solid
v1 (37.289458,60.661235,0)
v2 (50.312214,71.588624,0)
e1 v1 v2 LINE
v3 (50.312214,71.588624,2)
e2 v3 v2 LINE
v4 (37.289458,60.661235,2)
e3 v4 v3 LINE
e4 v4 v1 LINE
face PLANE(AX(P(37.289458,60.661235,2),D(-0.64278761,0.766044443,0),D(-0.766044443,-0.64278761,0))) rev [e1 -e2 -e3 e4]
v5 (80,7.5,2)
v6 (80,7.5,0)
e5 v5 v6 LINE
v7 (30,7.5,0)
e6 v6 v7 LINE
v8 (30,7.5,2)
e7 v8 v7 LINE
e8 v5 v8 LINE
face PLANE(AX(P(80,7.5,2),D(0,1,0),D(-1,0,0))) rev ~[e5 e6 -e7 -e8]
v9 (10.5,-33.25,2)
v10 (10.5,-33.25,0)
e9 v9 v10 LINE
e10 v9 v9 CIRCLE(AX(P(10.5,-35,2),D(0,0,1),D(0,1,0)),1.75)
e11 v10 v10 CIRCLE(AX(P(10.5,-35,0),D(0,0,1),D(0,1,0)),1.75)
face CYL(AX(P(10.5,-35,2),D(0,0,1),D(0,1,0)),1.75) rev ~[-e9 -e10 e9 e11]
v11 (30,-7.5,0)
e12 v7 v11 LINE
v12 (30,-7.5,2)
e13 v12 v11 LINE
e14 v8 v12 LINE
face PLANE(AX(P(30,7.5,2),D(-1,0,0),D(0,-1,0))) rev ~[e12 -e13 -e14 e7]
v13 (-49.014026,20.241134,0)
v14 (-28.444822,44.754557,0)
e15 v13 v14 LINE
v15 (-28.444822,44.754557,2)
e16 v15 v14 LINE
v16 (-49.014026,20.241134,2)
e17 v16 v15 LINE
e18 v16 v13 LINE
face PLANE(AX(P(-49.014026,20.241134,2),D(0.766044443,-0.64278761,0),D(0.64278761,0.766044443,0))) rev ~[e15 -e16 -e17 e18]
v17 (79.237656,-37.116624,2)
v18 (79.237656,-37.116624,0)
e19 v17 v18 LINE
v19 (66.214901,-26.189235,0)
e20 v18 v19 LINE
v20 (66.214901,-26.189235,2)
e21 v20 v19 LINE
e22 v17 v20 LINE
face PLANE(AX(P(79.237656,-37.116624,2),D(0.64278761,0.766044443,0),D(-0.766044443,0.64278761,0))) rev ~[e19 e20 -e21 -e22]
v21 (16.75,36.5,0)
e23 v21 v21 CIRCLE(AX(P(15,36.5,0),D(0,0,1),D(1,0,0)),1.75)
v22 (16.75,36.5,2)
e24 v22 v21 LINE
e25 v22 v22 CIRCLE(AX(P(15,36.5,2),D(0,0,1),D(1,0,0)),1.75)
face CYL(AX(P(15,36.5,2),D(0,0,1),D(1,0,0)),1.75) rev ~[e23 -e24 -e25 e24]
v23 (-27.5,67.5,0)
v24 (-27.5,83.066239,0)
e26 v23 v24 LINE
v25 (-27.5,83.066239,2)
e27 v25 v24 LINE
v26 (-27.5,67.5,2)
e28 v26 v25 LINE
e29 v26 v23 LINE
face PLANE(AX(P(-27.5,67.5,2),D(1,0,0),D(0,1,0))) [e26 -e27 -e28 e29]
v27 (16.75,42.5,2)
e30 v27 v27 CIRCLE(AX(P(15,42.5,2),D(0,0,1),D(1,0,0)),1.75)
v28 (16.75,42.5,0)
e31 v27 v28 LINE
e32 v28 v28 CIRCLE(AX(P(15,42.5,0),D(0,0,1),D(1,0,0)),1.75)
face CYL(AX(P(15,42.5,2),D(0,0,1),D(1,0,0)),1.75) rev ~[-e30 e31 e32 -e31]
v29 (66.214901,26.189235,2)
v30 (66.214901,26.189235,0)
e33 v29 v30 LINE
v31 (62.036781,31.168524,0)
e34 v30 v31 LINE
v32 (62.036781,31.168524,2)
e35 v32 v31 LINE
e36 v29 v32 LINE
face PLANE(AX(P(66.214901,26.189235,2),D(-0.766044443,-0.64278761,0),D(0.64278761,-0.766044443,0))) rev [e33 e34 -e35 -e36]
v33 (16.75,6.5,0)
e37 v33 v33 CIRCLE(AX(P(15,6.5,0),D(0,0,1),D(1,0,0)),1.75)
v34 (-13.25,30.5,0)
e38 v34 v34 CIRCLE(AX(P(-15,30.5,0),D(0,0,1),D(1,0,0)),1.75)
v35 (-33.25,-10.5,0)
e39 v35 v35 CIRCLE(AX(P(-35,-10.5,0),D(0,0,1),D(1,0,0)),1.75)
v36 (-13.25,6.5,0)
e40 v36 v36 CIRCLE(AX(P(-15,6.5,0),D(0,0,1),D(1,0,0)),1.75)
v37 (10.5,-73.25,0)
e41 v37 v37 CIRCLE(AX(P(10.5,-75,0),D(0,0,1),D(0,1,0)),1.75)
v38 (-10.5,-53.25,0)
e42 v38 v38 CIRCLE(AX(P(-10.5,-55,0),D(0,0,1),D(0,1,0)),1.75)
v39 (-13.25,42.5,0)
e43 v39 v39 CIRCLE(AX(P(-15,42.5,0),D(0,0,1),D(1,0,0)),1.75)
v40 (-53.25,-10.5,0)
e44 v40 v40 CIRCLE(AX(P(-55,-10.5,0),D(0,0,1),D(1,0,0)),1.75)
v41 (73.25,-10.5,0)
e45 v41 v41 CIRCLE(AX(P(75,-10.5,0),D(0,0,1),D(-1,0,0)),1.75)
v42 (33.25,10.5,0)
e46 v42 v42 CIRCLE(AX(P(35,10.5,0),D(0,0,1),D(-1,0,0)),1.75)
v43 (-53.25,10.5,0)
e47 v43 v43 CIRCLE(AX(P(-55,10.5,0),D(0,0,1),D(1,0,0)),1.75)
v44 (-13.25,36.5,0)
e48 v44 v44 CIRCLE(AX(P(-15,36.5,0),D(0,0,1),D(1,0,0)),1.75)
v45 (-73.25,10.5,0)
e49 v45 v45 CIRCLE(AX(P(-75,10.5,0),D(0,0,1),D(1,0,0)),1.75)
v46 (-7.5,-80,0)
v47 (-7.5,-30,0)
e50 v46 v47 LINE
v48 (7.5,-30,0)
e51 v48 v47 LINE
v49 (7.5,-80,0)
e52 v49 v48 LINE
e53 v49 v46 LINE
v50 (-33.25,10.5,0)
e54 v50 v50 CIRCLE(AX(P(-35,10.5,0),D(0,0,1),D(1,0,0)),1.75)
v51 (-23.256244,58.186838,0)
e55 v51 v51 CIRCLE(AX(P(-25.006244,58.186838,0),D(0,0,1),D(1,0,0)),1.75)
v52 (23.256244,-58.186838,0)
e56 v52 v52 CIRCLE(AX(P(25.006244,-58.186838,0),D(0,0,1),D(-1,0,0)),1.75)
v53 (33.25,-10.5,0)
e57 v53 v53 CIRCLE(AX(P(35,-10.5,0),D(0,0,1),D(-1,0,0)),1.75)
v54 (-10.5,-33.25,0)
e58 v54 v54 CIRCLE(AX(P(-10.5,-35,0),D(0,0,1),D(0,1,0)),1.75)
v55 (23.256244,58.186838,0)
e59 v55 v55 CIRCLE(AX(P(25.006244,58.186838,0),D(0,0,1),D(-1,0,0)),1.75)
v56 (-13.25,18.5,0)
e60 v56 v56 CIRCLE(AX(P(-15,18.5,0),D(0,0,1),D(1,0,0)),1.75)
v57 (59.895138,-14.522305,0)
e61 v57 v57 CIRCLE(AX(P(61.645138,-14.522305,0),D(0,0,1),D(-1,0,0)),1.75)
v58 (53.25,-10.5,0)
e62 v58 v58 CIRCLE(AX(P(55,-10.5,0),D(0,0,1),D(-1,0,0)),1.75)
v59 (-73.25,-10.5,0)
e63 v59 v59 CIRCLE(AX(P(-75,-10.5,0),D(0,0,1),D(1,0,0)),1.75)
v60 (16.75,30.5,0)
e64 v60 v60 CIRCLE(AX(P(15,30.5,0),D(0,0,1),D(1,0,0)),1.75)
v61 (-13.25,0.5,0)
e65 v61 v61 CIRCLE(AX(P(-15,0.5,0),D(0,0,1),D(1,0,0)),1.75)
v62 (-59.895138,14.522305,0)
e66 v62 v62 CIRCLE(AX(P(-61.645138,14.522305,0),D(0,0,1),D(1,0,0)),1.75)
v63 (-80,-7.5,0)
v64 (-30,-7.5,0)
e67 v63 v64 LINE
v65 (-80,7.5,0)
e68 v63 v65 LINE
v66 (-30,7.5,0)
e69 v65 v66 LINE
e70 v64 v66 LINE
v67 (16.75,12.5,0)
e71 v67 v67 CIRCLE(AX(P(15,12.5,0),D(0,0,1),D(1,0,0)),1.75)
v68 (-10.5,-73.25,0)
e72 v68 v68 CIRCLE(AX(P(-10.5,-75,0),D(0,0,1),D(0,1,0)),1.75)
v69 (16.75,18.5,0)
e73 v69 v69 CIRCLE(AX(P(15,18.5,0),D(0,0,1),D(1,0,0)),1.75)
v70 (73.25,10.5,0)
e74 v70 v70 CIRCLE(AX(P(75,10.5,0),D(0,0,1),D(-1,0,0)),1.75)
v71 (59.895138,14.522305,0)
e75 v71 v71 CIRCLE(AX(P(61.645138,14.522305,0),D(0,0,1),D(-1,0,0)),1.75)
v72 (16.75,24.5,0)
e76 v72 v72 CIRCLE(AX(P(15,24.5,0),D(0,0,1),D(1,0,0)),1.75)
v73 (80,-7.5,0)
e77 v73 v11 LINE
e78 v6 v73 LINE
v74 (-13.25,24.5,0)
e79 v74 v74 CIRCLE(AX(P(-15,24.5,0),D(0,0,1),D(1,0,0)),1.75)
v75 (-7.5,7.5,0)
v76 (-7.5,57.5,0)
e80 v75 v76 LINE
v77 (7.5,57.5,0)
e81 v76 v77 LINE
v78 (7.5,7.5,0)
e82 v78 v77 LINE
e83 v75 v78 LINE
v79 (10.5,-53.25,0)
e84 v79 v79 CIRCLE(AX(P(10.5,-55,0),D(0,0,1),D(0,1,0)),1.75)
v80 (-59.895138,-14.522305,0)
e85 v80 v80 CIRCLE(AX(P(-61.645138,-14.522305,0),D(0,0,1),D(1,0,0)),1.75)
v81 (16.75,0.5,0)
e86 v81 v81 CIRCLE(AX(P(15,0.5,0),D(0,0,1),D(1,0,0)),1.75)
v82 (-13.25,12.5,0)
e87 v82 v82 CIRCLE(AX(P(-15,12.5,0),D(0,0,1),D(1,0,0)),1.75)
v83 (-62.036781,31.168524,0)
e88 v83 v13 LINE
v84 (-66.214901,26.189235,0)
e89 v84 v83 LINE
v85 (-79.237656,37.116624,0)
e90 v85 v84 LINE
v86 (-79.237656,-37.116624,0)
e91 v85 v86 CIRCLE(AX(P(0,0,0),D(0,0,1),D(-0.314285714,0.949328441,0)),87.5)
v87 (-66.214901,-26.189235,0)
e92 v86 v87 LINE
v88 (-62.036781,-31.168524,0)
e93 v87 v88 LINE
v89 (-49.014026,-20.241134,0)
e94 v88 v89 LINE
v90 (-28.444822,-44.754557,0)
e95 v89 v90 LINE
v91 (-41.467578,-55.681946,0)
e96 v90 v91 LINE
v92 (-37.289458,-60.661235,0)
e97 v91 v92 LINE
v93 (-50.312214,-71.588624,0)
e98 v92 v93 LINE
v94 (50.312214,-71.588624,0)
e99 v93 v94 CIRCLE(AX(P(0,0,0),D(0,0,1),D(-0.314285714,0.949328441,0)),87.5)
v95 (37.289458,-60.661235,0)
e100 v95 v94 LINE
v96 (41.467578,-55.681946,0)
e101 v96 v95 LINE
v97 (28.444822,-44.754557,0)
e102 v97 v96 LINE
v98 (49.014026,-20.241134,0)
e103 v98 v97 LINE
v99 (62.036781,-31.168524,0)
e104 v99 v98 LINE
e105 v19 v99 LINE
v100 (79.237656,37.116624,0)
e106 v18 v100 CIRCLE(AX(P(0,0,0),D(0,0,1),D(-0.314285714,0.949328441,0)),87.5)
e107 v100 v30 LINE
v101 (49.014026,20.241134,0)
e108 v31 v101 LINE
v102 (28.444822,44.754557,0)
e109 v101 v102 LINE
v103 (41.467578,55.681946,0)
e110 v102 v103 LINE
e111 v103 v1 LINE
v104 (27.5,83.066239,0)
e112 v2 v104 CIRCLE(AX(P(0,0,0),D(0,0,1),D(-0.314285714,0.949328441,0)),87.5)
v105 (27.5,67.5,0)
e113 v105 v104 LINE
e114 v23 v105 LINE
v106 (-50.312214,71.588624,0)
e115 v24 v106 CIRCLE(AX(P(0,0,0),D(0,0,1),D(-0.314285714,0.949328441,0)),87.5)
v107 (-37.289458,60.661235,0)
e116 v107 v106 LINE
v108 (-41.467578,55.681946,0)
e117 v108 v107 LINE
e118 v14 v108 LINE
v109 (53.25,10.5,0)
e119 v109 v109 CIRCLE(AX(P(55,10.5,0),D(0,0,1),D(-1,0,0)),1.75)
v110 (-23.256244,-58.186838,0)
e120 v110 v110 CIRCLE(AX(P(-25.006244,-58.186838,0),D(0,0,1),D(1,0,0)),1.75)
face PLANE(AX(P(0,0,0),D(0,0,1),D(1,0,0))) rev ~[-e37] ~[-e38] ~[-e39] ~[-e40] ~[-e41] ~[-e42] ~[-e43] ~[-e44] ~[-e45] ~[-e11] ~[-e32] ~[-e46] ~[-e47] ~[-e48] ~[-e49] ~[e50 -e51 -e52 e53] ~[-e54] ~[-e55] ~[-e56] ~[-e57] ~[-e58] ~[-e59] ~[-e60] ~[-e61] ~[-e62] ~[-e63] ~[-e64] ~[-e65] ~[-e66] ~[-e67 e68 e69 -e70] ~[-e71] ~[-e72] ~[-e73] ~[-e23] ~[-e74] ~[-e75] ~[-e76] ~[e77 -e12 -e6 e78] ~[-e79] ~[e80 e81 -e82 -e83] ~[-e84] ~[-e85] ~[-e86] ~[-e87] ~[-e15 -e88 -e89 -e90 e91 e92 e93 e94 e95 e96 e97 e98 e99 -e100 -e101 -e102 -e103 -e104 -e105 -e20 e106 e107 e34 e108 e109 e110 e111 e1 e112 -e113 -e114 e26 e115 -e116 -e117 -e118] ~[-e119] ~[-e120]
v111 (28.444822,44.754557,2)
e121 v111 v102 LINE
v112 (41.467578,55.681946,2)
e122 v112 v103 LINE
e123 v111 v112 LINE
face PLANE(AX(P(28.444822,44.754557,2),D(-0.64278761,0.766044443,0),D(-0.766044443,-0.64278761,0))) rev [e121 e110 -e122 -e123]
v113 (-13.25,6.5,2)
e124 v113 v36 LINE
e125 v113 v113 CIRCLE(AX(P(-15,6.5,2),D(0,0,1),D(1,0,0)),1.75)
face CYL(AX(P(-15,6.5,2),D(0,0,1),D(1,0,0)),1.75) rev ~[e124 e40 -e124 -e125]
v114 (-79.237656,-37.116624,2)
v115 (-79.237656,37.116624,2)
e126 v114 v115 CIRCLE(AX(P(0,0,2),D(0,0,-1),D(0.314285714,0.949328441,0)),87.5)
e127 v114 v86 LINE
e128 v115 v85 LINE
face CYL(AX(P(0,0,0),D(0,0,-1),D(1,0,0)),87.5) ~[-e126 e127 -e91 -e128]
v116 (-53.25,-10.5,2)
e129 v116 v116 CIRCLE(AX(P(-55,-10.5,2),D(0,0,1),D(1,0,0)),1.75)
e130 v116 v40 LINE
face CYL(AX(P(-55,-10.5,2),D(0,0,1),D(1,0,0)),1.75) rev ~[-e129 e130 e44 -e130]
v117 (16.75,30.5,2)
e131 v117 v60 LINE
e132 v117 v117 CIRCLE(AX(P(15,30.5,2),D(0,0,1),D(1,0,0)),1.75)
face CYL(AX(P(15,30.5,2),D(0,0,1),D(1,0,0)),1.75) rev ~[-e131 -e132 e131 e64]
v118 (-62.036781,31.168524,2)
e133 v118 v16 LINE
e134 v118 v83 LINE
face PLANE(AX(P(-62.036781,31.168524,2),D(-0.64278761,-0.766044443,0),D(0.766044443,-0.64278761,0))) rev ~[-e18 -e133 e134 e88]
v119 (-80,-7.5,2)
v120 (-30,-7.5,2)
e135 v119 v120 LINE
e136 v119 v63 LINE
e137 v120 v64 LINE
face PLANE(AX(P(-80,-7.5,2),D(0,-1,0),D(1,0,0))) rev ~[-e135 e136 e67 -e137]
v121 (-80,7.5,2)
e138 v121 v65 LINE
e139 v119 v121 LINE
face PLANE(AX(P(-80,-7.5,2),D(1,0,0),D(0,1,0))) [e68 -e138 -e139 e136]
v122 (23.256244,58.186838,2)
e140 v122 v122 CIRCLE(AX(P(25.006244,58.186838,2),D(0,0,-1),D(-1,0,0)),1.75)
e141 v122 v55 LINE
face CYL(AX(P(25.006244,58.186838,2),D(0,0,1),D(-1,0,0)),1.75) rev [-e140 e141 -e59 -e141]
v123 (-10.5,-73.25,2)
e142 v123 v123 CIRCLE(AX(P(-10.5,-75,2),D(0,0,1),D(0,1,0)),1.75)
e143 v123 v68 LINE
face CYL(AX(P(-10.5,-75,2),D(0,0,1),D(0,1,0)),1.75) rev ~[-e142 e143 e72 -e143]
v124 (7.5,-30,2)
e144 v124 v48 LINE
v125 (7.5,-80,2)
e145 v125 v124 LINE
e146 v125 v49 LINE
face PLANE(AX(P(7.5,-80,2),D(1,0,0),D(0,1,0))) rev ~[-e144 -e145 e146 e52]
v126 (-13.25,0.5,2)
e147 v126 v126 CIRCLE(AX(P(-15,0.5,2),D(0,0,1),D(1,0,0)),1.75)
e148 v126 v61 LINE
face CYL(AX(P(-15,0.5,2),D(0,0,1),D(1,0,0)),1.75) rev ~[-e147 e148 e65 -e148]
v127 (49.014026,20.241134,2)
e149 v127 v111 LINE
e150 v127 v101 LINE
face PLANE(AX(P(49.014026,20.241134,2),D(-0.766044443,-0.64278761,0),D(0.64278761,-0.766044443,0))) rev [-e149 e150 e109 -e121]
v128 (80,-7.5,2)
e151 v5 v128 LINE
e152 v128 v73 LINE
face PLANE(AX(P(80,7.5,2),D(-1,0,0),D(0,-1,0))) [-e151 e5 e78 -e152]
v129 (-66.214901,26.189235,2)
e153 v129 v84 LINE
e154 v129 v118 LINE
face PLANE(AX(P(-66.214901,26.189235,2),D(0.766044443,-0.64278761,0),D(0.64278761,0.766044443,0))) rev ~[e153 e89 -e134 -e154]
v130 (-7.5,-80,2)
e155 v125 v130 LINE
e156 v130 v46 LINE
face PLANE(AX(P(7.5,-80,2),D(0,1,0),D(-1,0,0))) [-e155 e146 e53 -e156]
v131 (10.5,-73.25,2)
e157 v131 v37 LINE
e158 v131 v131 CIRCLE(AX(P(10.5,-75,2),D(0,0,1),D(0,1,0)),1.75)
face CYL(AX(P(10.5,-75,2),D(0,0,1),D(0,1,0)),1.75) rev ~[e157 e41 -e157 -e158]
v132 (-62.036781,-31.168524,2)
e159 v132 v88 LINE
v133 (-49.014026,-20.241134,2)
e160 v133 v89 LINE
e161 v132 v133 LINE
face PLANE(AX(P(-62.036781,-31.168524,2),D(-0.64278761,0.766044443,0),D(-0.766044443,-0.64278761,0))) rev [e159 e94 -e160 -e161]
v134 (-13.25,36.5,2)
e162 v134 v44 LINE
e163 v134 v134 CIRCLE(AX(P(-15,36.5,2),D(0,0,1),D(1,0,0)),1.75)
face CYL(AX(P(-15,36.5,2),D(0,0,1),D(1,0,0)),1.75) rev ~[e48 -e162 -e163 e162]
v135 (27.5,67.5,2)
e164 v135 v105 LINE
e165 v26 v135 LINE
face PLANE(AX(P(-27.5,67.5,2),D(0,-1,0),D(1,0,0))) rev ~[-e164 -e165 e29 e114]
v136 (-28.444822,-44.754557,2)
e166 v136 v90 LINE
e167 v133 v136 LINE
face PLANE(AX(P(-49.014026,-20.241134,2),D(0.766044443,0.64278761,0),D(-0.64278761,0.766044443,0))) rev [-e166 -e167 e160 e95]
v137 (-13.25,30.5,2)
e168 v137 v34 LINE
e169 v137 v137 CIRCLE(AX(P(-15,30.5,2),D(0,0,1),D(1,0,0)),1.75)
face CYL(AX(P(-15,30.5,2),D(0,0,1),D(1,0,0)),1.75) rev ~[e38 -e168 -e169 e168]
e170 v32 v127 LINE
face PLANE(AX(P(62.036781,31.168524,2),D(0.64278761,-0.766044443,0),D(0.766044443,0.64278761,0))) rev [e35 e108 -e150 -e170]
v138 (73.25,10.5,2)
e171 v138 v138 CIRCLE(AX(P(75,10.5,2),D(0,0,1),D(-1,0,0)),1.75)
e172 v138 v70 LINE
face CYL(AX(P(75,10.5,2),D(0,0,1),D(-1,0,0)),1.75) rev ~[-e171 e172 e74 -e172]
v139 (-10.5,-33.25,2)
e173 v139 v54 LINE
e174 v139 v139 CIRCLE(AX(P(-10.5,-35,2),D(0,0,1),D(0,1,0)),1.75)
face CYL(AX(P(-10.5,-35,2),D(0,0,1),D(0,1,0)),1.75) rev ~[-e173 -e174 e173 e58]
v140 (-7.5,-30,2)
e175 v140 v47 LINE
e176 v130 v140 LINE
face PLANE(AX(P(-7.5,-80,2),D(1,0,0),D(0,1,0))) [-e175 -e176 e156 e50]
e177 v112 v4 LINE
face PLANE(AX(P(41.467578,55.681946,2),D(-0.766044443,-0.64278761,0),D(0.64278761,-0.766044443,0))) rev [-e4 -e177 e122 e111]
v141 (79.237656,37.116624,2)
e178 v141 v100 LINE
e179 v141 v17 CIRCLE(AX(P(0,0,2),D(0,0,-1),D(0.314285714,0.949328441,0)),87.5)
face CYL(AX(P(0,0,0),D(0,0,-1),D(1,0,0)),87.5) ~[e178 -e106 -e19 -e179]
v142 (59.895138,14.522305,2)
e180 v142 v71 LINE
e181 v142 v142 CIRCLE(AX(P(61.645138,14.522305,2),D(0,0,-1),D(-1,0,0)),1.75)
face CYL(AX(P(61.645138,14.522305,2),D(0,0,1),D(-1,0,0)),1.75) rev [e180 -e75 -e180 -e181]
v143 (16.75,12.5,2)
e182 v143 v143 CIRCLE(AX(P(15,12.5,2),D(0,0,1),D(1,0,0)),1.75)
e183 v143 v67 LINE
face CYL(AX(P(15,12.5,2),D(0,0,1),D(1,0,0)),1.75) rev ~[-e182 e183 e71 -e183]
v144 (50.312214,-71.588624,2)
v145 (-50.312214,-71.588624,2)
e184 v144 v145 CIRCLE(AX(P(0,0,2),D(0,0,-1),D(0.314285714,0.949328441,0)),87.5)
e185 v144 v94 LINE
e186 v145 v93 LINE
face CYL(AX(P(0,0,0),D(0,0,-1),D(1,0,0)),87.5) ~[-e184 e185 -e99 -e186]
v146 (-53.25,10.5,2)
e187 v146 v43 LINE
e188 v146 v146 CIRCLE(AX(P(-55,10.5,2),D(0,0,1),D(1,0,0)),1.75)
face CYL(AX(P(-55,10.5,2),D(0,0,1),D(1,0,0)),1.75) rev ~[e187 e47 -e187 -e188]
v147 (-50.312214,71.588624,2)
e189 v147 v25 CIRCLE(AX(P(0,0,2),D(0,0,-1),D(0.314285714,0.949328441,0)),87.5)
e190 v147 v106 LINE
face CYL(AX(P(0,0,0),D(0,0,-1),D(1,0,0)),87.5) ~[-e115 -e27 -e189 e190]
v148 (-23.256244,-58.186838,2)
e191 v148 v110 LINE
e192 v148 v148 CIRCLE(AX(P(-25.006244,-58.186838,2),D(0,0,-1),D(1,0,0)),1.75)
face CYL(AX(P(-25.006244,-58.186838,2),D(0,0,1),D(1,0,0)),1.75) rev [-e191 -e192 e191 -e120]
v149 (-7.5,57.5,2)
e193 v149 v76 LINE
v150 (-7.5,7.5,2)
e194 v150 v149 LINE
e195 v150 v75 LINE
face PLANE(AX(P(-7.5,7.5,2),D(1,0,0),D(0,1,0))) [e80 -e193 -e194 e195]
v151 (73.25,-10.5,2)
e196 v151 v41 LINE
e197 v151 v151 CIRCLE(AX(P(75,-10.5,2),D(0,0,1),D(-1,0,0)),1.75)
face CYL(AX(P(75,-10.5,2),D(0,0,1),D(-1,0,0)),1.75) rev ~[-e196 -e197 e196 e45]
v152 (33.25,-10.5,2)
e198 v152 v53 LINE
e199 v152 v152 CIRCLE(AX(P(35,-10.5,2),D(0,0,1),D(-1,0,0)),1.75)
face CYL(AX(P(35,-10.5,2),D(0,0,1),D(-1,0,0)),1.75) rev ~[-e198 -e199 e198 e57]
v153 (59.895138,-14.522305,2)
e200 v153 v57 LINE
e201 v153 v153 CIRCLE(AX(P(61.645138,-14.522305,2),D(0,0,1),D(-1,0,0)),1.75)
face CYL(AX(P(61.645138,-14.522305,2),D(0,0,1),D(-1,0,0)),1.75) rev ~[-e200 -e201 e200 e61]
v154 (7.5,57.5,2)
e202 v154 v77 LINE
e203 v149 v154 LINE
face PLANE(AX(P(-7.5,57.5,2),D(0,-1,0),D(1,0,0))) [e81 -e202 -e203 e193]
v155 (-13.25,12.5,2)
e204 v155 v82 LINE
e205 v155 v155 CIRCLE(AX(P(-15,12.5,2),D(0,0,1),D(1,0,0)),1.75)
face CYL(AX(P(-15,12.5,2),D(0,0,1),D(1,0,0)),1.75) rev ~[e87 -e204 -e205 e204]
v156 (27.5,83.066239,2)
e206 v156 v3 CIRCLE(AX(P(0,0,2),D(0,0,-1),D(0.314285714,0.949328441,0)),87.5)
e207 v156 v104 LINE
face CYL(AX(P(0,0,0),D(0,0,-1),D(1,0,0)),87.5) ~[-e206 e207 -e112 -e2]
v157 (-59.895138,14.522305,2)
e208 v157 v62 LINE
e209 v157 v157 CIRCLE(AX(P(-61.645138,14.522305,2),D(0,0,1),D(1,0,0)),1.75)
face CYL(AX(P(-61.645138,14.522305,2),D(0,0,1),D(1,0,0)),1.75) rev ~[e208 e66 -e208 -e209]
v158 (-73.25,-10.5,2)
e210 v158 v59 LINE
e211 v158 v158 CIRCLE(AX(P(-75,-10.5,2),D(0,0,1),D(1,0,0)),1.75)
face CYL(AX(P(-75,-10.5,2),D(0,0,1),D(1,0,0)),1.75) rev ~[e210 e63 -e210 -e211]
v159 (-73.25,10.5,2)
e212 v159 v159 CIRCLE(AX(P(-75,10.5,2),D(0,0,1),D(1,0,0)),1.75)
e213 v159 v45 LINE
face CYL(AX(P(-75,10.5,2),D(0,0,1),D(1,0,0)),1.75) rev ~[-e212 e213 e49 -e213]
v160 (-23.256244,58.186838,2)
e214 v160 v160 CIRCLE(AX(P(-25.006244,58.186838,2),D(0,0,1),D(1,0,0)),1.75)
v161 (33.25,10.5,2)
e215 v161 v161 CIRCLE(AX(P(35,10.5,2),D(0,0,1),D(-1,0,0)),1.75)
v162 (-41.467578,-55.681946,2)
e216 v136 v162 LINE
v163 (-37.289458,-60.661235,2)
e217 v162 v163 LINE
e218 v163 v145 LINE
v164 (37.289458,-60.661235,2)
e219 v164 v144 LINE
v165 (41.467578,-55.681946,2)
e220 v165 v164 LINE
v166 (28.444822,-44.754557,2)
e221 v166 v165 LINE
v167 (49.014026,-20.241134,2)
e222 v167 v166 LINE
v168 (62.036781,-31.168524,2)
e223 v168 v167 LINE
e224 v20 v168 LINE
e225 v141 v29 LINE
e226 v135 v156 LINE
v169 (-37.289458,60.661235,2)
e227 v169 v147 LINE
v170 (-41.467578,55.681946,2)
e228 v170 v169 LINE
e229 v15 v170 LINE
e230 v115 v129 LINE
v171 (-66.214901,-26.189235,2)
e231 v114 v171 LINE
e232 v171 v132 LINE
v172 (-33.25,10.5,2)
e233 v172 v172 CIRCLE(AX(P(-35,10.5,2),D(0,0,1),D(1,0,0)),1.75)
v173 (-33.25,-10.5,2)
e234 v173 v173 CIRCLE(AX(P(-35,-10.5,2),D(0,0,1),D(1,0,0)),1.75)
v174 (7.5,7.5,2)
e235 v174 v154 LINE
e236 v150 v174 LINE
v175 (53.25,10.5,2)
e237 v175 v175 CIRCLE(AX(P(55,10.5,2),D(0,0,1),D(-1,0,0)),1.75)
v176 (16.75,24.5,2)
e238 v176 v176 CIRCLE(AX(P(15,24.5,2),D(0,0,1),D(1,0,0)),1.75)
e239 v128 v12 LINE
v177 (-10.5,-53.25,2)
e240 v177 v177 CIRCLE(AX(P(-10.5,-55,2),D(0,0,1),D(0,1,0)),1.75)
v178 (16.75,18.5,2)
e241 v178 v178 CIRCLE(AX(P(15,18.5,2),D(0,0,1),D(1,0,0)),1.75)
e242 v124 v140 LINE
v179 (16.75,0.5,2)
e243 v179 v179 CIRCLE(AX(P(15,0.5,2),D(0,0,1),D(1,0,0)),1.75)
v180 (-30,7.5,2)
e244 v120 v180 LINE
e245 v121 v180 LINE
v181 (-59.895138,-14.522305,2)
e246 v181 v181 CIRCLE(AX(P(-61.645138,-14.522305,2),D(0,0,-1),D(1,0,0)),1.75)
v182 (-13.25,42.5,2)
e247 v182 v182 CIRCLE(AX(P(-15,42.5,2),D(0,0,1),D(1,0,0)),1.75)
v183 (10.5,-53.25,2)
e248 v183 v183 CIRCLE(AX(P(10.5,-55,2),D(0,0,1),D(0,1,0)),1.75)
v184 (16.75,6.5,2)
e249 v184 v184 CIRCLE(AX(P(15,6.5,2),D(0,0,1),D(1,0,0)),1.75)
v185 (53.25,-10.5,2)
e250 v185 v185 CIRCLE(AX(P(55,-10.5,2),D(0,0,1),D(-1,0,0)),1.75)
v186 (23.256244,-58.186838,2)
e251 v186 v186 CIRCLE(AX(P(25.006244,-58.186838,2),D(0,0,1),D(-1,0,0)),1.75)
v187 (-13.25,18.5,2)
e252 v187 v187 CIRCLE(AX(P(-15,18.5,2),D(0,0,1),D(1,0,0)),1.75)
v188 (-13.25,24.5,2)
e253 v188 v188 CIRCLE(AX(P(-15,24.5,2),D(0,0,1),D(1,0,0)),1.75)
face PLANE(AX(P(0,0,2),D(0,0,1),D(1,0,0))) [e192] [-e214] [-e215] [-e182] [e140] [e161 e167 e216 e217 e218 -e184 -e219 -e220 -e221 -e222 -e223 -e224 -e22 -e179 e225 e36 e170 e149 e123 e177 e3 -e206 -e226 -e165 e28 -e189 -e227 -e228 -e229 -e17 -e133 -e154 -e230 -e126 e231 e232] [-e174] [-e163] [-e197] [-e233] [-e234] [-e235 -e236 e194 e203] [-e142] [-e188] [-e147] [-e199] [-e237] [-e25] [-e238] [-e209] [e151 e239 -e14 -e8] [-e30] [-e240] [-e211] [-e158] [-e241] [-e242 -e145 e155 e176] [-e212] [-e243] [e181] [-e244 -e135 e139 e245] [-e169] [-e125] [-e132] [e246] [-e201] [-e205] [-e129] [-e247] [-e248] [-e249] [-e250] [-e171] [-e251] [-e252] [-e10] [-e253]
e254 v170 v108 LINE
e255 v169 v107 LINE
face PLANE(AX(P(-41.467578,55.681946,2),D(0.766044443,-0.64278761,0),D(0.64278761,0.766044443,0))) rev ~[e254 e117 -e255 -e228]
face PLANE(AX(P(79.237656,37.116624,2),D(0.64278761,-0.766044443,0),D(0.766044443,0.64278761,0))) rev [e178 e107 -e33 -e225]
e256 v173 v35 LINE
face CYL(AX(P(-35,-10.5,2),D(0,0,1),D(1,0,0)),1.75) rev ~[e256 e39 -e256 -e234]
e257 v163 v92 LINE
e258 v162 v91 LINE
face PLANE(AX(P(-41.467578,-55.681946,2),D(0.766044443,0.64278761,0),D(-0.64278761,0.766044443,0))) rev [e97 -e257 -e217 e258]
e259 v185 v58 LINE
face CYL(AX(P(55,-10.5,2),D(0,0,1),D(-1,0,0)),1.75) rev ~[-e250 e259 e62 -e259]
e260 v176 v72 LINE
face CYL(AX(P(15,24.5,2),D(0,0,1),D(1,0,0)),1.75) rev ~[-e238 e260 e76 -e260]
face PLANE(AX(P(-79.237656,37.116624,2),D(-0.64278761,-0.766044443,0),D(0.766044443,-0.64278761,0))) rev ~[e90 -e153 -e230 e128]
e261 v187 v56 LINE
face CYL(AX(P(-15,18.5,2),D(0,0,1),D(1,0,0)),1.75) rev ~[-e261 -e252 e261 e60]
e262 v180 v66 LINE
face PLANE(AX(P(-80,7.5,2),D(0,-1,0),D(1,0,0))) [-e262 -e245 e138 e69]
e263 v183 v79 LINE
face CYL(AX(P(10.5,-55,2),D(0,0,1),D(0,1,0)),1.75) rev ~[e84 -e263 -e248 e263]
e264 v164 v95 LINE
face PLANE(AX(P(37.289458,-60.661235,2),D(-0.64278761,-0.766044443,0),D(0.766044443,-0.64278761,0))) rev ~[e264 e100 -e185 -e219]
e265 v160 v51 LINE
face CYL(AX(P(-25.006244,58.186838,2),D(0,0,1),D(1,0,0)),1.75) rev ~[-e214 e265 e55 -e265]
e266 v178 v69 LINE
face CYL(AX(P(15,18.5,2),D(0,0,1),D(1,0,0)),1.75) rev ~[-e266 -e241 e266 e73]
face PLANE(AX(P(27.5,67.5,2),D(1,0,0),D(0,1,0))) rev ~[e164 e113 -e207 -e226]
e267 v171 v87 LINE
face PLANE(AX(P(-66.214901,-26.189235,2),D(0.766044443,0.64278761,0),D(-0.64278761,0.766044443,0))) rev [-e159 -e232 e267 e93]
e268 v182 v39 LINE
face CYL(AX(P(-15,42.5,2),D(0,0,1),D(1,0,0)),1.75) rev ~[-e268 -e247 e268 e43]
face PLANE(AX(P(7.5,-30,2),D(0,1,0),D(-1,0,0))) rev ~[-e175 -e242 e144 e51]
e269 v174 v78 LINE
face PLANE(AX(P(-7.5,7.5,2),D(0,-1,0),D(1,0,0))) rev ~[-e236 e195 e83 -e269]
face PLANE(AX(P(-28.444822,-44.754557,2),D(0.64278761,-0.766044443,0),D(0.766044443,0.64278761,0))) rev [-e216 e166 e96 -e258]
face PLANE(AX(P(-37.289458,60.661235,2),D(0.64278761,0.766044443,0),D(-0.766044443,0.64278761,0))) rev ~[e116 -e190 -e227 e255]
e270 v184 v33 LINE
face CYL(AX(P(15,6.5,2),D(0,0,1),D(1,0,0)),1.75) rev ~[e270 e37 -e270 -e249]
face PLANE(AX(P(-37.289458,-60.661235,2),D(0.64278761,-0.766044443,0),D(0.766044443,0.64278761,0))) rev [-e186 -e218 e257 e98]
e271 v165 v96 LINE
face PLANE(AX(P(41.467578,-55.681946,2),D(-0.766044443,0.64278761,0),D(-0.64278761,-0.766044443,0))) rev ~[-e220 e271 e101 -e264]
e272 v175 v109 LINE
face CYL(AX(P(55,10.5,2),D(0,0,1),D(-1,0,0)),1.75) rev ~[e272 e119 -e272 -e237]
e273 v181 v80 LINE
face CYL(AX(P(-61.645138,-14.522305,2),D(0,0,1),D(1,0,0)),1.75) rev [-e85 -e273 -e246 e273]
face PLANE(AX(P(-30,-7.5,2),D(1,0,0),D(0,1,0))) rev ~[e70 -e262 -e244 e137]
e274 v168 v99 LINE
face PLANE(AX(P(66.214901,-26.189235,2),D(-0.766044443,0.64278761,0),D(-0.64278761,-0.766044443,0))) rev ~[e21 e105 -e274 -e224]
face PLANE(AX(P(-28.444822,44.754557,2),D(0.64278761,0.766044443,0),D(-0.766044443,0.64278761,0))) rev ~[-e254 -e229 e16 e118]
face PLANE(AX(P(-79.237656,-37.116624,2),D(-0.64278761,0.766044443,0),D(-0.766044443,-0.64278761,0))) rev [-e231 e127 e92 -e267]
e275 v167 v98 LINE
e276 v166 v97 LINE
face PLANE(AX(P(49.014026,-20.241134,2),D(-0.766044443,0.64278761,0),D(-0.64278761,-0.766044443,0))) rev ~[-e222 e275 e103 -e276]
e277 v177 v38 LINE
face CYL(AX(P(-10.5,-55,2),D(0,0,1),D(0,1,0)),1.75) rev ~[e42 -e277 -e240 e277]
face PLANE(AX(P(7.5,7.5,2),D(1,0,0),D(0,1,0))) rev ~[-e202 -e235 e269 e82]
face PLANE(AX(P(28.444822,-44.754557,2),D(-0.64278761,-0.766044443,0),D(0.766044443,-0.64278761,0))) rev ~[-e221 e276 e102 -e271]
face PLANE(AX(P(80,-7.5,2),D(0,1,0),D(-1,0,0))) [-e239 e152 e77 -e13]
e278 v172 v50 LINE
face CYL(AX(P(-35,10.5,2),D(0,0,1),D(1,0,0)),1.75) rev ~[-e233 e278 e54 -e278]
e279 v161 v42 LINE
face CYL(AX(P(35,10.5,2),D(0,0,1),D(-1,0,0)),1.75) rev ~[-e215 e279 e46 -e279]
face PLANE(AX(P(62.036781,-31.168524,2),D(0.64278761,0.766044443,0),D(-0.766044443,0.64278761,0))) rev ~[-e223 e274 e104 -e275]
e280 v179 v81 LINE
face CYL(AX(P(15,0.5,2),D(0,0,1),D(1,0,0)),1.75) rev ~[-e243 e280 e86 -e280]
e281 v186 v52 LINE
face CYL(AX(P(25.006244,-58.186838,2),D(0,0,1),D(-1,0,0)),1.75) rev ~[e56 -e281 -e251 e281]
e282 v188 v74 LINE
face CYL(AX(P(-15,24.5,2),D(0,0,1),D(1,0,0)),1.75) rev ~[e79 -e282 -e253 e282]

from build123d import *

# Parameters (mm, degrees)
SKETCH2_R                                  = 87.5
BOSS_EXTRUDE2_DEPTH                        = 2
SKETCH3_W                                  = 55
SKETCH3_H                                  = 40
CUT_EXTRUDE1_DEPTH                         = 124.759848093
CUT_EXTRUDE2_DEPTH                         = 124.759848093
SKETCH7_R                                  = 1.75
CUT_EXTRUDE3_DEPTH                         = 124.759848093
MIRROR1_AT_THE_SECOND_PLANE_COPY_1_DEPTH   = 124.759848093
MIRROR1_AT_THE_SECOND_PLANE_COPY_2_SKETC_R = 1.75
MIRROR1_AT_THE_SECOND_PLANE_COPY_2_DEPTH   = 124.759848093
SKETCH8_W                                  = 50
SKETCH8_H                                  = 15
CUT_EXTRUDE5_DEPTH                         = 124.759848093
SKETCH11_R                                 = 1.75
CUT_EXTRUDE7_DEPTH                         = 124.759848093
LPATTERN2_COUNT                            = 3
LPATTERN2_PITCH                            = 20
CIRPATTERN1_COUNT                          = 3
CIRPATTERN1_ANGLE                          = 180
CIRPATTERN1_COPY_1_SKETCH_R                = 1.75
CIRPATTERN1_COPY_1_DEPTH                   = 124.759848093
CIRPATTERN1_COPY_2_SKETCH_R                = 1.75
CIRPATTERN1_COPY_2_DEPTH                   = 124.759848093
CIRPATTERN1_COPY_3_SKETCH_R                = 1.75
CIRPATTERN1_COPY_3_DEPTH                   = 124.759848093
CIRPATTERN1_COPY_4_SKETCH_R                = 1.75
CIRPATTERN1_COPY_4_DEPTH                   = 124.759848093
SKETCH13_W                                 = 15
SKETCH13_H                                 = 50
CUT_EXTRUDE8_DEPTH                         = 124.759848093
SKETCH14_R                                 = 1.75
CUT_EXTRUDE9_DEPTH                         = 124.759848093


with BuildPart() as part:
    # Sketch2 → Boss-Extrude2 (new body)
    with BuildSketch(Plane.XY):
        Circle(SKETCH2_R)
    extrude(amount=BOSS_EXTRUDE2_DEPTH)

    # Sketch3 → Cut-Extrude1 (cut, through all)
    with BuildSketch(Plane.XY.offset(2)):
        with Locations((0, 87.5)):
            Rectangle(SKETCH3_W, SKETCH3_H)
    extrude(amount=-CUT_EXTRUDE1_DEPTH, mode=Mode.SUBTRACT)

    # Sketch6 → Cut-Extrude2 (cut, through all)
    with BuildSketch(Plane.XY.offset(2)):
        with BuildLine():
            Line((-79.237656457, 37.116624298), (-66.214900923, 26.189234933))
            Line((-66.214900923, 26.189234933), (-62.036781461, 31.168523814))
            Line((-62.036781461, 31.168523814), (-49.014025927, 20.241134449))
            Line((-49.014025927, 20.241134449), (-28.444822418, 44.754556629))
            Line((-28.444822418, 44.754556629), (-41.467577951, 55.681945993))
            Line((-41.467577951, 55.681945993), (-37.289458488, 60.661234874))
            Line((-37.289458488, 60.661234874), (-50.312214021, 71.588624238))
            ThreePointArc((-50.312214021, 71.588624238), (-67.028888773, 56.243915848), (-79.237656457, 37.116624298))
        make_face()
    cut_extrude2 = extrude(amount=-CUT_EXTRUDE2_DEPTH, mode=Mode.SUBTRACT)

    # Sketch7 → Cut-Extrude3 (cut, through all)
    with BuildSketch(Plane.XY.offset(2)):
        with Locations((-61.645137707, 14.522304568)):
            Circle(SKETCH7_R)
        with Locations((-25.006243955, 58.186837826)):
            Circle(SKETCH7_R)
    cut_extrude3 = extrude(amount=-CUT_EXTRUDE3_DEPTH, mode=Mode.SUBTRACT)

    # Mirror1: Cut-Extrude2, Cut-Extrude3 across plane
    add(cut_extrude2.mirror(Plane.ZX), mode=Mode.SUBTRACT)
    add(cut_extrude3.mirror(Plane.ZX), mode=Mode.SUBTRACT)

    # Mirror1 at the second plane: Cut-Extrude2, Cut-Extrude3 across plane
    add(cut_extrude2.mirror(Plane(origin=(0, 0, 0), x_dir=(0, 0, 1), z_dir=(1, 0, 0))), mode=Mode.SUBTRACT)
    add(cut_extrude3.mirror(Plane(origin=(0, 0, 0), x_dir=(0, 0, 1), z_dir=(1, 0, 0))), mode=Mode.SUBTRACT)

    # Mirror1 at the second plane copy 1 sketc → Mirror1 at the second plane copy 1 (cut, through all)
    with BuildSketch(Plane(origin=(0, 0, 2), x_dir=(-1, 0, 0), z_dir=(0, 0, 1))):
        with BuildLine():
            Line((-79.237656457, 37.116624298), (-66.214900923, 26.189234933))
            Line((-66.214900923, 26.189234933), (-62.036781461, 31.168523814))
            Line((-62.036781461, 31.168523814), (-49.014025927, 20.241134449))
            Line((-49.014025927, 20.241134449), (-28.444822418, 44.754556629))
            Line((-28.444822418, 44.754556629), (-41.467577951, 55.681945993))
            Line((-41.467577951, 55.681945993), (-37.289458488, 60.661234874))
            Line((-37.289458488, 60.661234874), (-50.312214021, 71.588624238))
            ThreePointArc((-50.312214021, 71.588624238), (-67.028888773, 56.243915848), (-79.237656457, 37.116624298))
        make_face()
    extrude(amount=-MIRROR1_AT_THE_SECOND_PLANE_COPY_1_DEPTH, mode=Mode.SUBTRACT)

    # Mirror1 at the second plane copy 2 sketc → Mirror1 at the second plane copy 2 (cut, through all)
    with BuildSketch(Plane(origin=(0, 0, 2), x_dir=(-1, 0, 0), z_dir=(0, 0, 1))):
        with Locations((-61.645137707, 14.522304568)):
            Circle(MIRROR1_AT_THE_SECOND_PLANE_COPY_2_SKETC_R)
        with Locations((-25.006243955, 58.186837826)):
            Circle(MIRROR1_AT_THE_SECOND_PLANE_COPY_2_SKETC_R)
    extrude(amount=-MIRROR1_AT_THE_SECOND_PLANE_COPY_2_DEPTH, mode=Mode.SUBTRACT)

    # Sketch8 → Cut-Extrude5 (cut, through all)
    with BuildSketch(Plane.XY.offset(2)):
        with Locations((-55, 0)):
            Rectangle(SKETCH8_W, SKETCH8_H)
    cut_extrude5 = extrude(amount=-CUT_EXTRUDE5_DEPTH, mode=Mode.SUBTRACT)

    # Sketch11 → Cut-Extrude7 (cut, through all)
    with BuildSketch(Plane.XY.offset(2)):
        with Locations((-35, 10.5)):
            Circle(SKETCH11_R)
        with Locations((-35, -10.5)):
            Circle(SKETCH11_R)
    cut_extrude7 = extrude(amount=-CUT_EXTRUDE7_DEPTH, mode=Mode.SUBTRACT)

    # LPattern2: Cut-Extrude7 ×3
    with Locations(*[(-i * LPATTERN2_PITCH, 0, 0) for i in range(1, LPATTERN2_COUNT)]):
        add(cut_extrude7, mode=Mode.SUBTRACT)

    # CirPattern1: Cut-Extrude5, Cut-Extrude7 ×3 about axis
    cirpattern1_axis = Axis((0, 0, 0), (0, 0, 1))
    add([cut_extrude5.rotate(cirpattern1_axis, i * CIRPATTERN1_ANGLE / (CIRPATTERN1_COUNT - 1)) for i in range(1, CIRPATTERN1_COUNT)], mode=Mode.SUBTRACT)
    add([cut_extrude7.rotate(cirpattern1_axis, i * CIRPATTERN1_ANGLE / (CIRPATTERN1_COUNT - 1)) for i in range(1, CIRPATTERN1_COUNT)], mode=Mode.SUBTRACT)

    # CirPattern1 copy 1 sketch → CirPattern1 copy 1 (cut, through all)
    with BuildSketch(Plane(origin=(0, -20, 2), x_dir=(0, 1, 0), z_dir=(0, 0, 1))):
        with Locations((-35, 10.5)):
            Circle(CIRPATTERN1_COPY_1_SKETCH_R)
        with Locations((-35, -10.5)):
            Circle(CIRPATTERN1_COPY_1_SKETCH_R)
    extrude(amount=-CIRPATTERN1_COPY_1_DEPTH, mode=Mode.SUBTRACT)

    # CirPattern1 copy 2 sketch → CirPattern1 copy 2 (cut, through all)
    with BuildSketch(Plane(origin=(20, 0, 2), x_dir=(-1, 0, 0), z_dir=(0, 0, 1))):
        with Locations((-35, 10.5)):
            Circle(CIRPATTERN1_COPY_2_SKETCH_R)
        with Locations((-35, -10.5)):
            Circle(CIRPATTERN1_COPY_2_SKETCH_R)
    extrude(amount=-CIRPATTERN1_COPY_2_DEPTH, mode=Mode.SUBTRACT)

    # CirPattern1 copy 3 sketch → CirPattern1 copy 3 (cut, through all)
    with BuildSketch(Plane(origin=(0, -40, 2), x_dir=(0, 1, 0), z_dir=(0, 0, 1))):
        with Locations((-35, 10.5)):
            Circle(CIRPATTERN1_COPY_3_SKETCH_R)
        with Locations((-35, -10.5)):
            Circle(CIRPATTERN1_COPY_3_SKETCH_R)
    extrude(amount=-CIRPATTERN1_COPY_3_DEPTH, mode=Mode.SUBTRACT)

    # CirPattern1 copy 4 sketch → CirPattern1 copy 4 (cut, through all)
    with BuildSketch(Plane(origin=(40, 0, 2), x_dir=(-1, 0, 0), z_dir=(0, 0, 1))):
        with Locations((-35, 10.5)):
            Circle(CIRPATTERN1_COPY_4_SKETCH_R)
        with Locations((-35, -10.5)):
            Circle(CIRPATTERN1_COPY_4_SKETCH_R)
    extrude(amount=-CIRPATTERN1_COPY_4_DEPTH, mode=Mode.SUBTRACT)

    # Sketch13 → Cut-Extrude8 (cut, through all)
    with BuildSketch(Plane.XY.offset(2)):
        with Locations((0, 32.5)):
            Rectangle(SKETCH13_W, SKETCH13_H)
    extrude(amount=-CUT_EXTRUDE8_DEPTH, mode=Mode.SUBTRACT)

    # Sketch14 → Cut-Extrude9 (cut, through all)
    with BuildSketch(Plane.XY.offset(2)):
        with Locations((-15, 42.5)):
            Circle(SKETCH14_R)
        with Locations((15, 42.5)):
            Circle(SKETCH14_R)
        with Locations((-15, 36.5)):
            Circle(SKETCH14_R)
        with Locations((15, 36.5)):
            Circle(SKETCH14_R)
        with Locations((-15, 30.5)):
            Circle(SKETCH14_R)
        with Locations((15, 30.5)):
            Circle(SKETCH14_R)
        with Locations((-15, 24.5)):
            Circle(SKETCH14_R)
        with Locations((15, 24.5)):
            Circle(SKETCH14_R)
        with Locations((-15, 18.5)):
            Circle(SKETCH14_R)
        with Locations((15, 18.5)):
            Circle(SKETCH14_R)
        with Locations((-15, 12.5)):
            Circle(SKETCH14_R)
        with Locations((15, 12.5)):
            Circle(SKETCH14_R)
        with Locations((-15, 6.5)):
            Circle(SKETCH14_R)
        with Locations((15, 6.5)):
            Circle(SKETCH14_R)
        with Locations((-15, 0.5)):
            Circle(SKETCH14_R)
        with Locations((15, 0.5)):
            Circle(SKETCH14_R)
    extrude(amount=-CUT_EXTRUDE9_DEPTH, mode=Mode.SUBTRACT)


solid = part.part
